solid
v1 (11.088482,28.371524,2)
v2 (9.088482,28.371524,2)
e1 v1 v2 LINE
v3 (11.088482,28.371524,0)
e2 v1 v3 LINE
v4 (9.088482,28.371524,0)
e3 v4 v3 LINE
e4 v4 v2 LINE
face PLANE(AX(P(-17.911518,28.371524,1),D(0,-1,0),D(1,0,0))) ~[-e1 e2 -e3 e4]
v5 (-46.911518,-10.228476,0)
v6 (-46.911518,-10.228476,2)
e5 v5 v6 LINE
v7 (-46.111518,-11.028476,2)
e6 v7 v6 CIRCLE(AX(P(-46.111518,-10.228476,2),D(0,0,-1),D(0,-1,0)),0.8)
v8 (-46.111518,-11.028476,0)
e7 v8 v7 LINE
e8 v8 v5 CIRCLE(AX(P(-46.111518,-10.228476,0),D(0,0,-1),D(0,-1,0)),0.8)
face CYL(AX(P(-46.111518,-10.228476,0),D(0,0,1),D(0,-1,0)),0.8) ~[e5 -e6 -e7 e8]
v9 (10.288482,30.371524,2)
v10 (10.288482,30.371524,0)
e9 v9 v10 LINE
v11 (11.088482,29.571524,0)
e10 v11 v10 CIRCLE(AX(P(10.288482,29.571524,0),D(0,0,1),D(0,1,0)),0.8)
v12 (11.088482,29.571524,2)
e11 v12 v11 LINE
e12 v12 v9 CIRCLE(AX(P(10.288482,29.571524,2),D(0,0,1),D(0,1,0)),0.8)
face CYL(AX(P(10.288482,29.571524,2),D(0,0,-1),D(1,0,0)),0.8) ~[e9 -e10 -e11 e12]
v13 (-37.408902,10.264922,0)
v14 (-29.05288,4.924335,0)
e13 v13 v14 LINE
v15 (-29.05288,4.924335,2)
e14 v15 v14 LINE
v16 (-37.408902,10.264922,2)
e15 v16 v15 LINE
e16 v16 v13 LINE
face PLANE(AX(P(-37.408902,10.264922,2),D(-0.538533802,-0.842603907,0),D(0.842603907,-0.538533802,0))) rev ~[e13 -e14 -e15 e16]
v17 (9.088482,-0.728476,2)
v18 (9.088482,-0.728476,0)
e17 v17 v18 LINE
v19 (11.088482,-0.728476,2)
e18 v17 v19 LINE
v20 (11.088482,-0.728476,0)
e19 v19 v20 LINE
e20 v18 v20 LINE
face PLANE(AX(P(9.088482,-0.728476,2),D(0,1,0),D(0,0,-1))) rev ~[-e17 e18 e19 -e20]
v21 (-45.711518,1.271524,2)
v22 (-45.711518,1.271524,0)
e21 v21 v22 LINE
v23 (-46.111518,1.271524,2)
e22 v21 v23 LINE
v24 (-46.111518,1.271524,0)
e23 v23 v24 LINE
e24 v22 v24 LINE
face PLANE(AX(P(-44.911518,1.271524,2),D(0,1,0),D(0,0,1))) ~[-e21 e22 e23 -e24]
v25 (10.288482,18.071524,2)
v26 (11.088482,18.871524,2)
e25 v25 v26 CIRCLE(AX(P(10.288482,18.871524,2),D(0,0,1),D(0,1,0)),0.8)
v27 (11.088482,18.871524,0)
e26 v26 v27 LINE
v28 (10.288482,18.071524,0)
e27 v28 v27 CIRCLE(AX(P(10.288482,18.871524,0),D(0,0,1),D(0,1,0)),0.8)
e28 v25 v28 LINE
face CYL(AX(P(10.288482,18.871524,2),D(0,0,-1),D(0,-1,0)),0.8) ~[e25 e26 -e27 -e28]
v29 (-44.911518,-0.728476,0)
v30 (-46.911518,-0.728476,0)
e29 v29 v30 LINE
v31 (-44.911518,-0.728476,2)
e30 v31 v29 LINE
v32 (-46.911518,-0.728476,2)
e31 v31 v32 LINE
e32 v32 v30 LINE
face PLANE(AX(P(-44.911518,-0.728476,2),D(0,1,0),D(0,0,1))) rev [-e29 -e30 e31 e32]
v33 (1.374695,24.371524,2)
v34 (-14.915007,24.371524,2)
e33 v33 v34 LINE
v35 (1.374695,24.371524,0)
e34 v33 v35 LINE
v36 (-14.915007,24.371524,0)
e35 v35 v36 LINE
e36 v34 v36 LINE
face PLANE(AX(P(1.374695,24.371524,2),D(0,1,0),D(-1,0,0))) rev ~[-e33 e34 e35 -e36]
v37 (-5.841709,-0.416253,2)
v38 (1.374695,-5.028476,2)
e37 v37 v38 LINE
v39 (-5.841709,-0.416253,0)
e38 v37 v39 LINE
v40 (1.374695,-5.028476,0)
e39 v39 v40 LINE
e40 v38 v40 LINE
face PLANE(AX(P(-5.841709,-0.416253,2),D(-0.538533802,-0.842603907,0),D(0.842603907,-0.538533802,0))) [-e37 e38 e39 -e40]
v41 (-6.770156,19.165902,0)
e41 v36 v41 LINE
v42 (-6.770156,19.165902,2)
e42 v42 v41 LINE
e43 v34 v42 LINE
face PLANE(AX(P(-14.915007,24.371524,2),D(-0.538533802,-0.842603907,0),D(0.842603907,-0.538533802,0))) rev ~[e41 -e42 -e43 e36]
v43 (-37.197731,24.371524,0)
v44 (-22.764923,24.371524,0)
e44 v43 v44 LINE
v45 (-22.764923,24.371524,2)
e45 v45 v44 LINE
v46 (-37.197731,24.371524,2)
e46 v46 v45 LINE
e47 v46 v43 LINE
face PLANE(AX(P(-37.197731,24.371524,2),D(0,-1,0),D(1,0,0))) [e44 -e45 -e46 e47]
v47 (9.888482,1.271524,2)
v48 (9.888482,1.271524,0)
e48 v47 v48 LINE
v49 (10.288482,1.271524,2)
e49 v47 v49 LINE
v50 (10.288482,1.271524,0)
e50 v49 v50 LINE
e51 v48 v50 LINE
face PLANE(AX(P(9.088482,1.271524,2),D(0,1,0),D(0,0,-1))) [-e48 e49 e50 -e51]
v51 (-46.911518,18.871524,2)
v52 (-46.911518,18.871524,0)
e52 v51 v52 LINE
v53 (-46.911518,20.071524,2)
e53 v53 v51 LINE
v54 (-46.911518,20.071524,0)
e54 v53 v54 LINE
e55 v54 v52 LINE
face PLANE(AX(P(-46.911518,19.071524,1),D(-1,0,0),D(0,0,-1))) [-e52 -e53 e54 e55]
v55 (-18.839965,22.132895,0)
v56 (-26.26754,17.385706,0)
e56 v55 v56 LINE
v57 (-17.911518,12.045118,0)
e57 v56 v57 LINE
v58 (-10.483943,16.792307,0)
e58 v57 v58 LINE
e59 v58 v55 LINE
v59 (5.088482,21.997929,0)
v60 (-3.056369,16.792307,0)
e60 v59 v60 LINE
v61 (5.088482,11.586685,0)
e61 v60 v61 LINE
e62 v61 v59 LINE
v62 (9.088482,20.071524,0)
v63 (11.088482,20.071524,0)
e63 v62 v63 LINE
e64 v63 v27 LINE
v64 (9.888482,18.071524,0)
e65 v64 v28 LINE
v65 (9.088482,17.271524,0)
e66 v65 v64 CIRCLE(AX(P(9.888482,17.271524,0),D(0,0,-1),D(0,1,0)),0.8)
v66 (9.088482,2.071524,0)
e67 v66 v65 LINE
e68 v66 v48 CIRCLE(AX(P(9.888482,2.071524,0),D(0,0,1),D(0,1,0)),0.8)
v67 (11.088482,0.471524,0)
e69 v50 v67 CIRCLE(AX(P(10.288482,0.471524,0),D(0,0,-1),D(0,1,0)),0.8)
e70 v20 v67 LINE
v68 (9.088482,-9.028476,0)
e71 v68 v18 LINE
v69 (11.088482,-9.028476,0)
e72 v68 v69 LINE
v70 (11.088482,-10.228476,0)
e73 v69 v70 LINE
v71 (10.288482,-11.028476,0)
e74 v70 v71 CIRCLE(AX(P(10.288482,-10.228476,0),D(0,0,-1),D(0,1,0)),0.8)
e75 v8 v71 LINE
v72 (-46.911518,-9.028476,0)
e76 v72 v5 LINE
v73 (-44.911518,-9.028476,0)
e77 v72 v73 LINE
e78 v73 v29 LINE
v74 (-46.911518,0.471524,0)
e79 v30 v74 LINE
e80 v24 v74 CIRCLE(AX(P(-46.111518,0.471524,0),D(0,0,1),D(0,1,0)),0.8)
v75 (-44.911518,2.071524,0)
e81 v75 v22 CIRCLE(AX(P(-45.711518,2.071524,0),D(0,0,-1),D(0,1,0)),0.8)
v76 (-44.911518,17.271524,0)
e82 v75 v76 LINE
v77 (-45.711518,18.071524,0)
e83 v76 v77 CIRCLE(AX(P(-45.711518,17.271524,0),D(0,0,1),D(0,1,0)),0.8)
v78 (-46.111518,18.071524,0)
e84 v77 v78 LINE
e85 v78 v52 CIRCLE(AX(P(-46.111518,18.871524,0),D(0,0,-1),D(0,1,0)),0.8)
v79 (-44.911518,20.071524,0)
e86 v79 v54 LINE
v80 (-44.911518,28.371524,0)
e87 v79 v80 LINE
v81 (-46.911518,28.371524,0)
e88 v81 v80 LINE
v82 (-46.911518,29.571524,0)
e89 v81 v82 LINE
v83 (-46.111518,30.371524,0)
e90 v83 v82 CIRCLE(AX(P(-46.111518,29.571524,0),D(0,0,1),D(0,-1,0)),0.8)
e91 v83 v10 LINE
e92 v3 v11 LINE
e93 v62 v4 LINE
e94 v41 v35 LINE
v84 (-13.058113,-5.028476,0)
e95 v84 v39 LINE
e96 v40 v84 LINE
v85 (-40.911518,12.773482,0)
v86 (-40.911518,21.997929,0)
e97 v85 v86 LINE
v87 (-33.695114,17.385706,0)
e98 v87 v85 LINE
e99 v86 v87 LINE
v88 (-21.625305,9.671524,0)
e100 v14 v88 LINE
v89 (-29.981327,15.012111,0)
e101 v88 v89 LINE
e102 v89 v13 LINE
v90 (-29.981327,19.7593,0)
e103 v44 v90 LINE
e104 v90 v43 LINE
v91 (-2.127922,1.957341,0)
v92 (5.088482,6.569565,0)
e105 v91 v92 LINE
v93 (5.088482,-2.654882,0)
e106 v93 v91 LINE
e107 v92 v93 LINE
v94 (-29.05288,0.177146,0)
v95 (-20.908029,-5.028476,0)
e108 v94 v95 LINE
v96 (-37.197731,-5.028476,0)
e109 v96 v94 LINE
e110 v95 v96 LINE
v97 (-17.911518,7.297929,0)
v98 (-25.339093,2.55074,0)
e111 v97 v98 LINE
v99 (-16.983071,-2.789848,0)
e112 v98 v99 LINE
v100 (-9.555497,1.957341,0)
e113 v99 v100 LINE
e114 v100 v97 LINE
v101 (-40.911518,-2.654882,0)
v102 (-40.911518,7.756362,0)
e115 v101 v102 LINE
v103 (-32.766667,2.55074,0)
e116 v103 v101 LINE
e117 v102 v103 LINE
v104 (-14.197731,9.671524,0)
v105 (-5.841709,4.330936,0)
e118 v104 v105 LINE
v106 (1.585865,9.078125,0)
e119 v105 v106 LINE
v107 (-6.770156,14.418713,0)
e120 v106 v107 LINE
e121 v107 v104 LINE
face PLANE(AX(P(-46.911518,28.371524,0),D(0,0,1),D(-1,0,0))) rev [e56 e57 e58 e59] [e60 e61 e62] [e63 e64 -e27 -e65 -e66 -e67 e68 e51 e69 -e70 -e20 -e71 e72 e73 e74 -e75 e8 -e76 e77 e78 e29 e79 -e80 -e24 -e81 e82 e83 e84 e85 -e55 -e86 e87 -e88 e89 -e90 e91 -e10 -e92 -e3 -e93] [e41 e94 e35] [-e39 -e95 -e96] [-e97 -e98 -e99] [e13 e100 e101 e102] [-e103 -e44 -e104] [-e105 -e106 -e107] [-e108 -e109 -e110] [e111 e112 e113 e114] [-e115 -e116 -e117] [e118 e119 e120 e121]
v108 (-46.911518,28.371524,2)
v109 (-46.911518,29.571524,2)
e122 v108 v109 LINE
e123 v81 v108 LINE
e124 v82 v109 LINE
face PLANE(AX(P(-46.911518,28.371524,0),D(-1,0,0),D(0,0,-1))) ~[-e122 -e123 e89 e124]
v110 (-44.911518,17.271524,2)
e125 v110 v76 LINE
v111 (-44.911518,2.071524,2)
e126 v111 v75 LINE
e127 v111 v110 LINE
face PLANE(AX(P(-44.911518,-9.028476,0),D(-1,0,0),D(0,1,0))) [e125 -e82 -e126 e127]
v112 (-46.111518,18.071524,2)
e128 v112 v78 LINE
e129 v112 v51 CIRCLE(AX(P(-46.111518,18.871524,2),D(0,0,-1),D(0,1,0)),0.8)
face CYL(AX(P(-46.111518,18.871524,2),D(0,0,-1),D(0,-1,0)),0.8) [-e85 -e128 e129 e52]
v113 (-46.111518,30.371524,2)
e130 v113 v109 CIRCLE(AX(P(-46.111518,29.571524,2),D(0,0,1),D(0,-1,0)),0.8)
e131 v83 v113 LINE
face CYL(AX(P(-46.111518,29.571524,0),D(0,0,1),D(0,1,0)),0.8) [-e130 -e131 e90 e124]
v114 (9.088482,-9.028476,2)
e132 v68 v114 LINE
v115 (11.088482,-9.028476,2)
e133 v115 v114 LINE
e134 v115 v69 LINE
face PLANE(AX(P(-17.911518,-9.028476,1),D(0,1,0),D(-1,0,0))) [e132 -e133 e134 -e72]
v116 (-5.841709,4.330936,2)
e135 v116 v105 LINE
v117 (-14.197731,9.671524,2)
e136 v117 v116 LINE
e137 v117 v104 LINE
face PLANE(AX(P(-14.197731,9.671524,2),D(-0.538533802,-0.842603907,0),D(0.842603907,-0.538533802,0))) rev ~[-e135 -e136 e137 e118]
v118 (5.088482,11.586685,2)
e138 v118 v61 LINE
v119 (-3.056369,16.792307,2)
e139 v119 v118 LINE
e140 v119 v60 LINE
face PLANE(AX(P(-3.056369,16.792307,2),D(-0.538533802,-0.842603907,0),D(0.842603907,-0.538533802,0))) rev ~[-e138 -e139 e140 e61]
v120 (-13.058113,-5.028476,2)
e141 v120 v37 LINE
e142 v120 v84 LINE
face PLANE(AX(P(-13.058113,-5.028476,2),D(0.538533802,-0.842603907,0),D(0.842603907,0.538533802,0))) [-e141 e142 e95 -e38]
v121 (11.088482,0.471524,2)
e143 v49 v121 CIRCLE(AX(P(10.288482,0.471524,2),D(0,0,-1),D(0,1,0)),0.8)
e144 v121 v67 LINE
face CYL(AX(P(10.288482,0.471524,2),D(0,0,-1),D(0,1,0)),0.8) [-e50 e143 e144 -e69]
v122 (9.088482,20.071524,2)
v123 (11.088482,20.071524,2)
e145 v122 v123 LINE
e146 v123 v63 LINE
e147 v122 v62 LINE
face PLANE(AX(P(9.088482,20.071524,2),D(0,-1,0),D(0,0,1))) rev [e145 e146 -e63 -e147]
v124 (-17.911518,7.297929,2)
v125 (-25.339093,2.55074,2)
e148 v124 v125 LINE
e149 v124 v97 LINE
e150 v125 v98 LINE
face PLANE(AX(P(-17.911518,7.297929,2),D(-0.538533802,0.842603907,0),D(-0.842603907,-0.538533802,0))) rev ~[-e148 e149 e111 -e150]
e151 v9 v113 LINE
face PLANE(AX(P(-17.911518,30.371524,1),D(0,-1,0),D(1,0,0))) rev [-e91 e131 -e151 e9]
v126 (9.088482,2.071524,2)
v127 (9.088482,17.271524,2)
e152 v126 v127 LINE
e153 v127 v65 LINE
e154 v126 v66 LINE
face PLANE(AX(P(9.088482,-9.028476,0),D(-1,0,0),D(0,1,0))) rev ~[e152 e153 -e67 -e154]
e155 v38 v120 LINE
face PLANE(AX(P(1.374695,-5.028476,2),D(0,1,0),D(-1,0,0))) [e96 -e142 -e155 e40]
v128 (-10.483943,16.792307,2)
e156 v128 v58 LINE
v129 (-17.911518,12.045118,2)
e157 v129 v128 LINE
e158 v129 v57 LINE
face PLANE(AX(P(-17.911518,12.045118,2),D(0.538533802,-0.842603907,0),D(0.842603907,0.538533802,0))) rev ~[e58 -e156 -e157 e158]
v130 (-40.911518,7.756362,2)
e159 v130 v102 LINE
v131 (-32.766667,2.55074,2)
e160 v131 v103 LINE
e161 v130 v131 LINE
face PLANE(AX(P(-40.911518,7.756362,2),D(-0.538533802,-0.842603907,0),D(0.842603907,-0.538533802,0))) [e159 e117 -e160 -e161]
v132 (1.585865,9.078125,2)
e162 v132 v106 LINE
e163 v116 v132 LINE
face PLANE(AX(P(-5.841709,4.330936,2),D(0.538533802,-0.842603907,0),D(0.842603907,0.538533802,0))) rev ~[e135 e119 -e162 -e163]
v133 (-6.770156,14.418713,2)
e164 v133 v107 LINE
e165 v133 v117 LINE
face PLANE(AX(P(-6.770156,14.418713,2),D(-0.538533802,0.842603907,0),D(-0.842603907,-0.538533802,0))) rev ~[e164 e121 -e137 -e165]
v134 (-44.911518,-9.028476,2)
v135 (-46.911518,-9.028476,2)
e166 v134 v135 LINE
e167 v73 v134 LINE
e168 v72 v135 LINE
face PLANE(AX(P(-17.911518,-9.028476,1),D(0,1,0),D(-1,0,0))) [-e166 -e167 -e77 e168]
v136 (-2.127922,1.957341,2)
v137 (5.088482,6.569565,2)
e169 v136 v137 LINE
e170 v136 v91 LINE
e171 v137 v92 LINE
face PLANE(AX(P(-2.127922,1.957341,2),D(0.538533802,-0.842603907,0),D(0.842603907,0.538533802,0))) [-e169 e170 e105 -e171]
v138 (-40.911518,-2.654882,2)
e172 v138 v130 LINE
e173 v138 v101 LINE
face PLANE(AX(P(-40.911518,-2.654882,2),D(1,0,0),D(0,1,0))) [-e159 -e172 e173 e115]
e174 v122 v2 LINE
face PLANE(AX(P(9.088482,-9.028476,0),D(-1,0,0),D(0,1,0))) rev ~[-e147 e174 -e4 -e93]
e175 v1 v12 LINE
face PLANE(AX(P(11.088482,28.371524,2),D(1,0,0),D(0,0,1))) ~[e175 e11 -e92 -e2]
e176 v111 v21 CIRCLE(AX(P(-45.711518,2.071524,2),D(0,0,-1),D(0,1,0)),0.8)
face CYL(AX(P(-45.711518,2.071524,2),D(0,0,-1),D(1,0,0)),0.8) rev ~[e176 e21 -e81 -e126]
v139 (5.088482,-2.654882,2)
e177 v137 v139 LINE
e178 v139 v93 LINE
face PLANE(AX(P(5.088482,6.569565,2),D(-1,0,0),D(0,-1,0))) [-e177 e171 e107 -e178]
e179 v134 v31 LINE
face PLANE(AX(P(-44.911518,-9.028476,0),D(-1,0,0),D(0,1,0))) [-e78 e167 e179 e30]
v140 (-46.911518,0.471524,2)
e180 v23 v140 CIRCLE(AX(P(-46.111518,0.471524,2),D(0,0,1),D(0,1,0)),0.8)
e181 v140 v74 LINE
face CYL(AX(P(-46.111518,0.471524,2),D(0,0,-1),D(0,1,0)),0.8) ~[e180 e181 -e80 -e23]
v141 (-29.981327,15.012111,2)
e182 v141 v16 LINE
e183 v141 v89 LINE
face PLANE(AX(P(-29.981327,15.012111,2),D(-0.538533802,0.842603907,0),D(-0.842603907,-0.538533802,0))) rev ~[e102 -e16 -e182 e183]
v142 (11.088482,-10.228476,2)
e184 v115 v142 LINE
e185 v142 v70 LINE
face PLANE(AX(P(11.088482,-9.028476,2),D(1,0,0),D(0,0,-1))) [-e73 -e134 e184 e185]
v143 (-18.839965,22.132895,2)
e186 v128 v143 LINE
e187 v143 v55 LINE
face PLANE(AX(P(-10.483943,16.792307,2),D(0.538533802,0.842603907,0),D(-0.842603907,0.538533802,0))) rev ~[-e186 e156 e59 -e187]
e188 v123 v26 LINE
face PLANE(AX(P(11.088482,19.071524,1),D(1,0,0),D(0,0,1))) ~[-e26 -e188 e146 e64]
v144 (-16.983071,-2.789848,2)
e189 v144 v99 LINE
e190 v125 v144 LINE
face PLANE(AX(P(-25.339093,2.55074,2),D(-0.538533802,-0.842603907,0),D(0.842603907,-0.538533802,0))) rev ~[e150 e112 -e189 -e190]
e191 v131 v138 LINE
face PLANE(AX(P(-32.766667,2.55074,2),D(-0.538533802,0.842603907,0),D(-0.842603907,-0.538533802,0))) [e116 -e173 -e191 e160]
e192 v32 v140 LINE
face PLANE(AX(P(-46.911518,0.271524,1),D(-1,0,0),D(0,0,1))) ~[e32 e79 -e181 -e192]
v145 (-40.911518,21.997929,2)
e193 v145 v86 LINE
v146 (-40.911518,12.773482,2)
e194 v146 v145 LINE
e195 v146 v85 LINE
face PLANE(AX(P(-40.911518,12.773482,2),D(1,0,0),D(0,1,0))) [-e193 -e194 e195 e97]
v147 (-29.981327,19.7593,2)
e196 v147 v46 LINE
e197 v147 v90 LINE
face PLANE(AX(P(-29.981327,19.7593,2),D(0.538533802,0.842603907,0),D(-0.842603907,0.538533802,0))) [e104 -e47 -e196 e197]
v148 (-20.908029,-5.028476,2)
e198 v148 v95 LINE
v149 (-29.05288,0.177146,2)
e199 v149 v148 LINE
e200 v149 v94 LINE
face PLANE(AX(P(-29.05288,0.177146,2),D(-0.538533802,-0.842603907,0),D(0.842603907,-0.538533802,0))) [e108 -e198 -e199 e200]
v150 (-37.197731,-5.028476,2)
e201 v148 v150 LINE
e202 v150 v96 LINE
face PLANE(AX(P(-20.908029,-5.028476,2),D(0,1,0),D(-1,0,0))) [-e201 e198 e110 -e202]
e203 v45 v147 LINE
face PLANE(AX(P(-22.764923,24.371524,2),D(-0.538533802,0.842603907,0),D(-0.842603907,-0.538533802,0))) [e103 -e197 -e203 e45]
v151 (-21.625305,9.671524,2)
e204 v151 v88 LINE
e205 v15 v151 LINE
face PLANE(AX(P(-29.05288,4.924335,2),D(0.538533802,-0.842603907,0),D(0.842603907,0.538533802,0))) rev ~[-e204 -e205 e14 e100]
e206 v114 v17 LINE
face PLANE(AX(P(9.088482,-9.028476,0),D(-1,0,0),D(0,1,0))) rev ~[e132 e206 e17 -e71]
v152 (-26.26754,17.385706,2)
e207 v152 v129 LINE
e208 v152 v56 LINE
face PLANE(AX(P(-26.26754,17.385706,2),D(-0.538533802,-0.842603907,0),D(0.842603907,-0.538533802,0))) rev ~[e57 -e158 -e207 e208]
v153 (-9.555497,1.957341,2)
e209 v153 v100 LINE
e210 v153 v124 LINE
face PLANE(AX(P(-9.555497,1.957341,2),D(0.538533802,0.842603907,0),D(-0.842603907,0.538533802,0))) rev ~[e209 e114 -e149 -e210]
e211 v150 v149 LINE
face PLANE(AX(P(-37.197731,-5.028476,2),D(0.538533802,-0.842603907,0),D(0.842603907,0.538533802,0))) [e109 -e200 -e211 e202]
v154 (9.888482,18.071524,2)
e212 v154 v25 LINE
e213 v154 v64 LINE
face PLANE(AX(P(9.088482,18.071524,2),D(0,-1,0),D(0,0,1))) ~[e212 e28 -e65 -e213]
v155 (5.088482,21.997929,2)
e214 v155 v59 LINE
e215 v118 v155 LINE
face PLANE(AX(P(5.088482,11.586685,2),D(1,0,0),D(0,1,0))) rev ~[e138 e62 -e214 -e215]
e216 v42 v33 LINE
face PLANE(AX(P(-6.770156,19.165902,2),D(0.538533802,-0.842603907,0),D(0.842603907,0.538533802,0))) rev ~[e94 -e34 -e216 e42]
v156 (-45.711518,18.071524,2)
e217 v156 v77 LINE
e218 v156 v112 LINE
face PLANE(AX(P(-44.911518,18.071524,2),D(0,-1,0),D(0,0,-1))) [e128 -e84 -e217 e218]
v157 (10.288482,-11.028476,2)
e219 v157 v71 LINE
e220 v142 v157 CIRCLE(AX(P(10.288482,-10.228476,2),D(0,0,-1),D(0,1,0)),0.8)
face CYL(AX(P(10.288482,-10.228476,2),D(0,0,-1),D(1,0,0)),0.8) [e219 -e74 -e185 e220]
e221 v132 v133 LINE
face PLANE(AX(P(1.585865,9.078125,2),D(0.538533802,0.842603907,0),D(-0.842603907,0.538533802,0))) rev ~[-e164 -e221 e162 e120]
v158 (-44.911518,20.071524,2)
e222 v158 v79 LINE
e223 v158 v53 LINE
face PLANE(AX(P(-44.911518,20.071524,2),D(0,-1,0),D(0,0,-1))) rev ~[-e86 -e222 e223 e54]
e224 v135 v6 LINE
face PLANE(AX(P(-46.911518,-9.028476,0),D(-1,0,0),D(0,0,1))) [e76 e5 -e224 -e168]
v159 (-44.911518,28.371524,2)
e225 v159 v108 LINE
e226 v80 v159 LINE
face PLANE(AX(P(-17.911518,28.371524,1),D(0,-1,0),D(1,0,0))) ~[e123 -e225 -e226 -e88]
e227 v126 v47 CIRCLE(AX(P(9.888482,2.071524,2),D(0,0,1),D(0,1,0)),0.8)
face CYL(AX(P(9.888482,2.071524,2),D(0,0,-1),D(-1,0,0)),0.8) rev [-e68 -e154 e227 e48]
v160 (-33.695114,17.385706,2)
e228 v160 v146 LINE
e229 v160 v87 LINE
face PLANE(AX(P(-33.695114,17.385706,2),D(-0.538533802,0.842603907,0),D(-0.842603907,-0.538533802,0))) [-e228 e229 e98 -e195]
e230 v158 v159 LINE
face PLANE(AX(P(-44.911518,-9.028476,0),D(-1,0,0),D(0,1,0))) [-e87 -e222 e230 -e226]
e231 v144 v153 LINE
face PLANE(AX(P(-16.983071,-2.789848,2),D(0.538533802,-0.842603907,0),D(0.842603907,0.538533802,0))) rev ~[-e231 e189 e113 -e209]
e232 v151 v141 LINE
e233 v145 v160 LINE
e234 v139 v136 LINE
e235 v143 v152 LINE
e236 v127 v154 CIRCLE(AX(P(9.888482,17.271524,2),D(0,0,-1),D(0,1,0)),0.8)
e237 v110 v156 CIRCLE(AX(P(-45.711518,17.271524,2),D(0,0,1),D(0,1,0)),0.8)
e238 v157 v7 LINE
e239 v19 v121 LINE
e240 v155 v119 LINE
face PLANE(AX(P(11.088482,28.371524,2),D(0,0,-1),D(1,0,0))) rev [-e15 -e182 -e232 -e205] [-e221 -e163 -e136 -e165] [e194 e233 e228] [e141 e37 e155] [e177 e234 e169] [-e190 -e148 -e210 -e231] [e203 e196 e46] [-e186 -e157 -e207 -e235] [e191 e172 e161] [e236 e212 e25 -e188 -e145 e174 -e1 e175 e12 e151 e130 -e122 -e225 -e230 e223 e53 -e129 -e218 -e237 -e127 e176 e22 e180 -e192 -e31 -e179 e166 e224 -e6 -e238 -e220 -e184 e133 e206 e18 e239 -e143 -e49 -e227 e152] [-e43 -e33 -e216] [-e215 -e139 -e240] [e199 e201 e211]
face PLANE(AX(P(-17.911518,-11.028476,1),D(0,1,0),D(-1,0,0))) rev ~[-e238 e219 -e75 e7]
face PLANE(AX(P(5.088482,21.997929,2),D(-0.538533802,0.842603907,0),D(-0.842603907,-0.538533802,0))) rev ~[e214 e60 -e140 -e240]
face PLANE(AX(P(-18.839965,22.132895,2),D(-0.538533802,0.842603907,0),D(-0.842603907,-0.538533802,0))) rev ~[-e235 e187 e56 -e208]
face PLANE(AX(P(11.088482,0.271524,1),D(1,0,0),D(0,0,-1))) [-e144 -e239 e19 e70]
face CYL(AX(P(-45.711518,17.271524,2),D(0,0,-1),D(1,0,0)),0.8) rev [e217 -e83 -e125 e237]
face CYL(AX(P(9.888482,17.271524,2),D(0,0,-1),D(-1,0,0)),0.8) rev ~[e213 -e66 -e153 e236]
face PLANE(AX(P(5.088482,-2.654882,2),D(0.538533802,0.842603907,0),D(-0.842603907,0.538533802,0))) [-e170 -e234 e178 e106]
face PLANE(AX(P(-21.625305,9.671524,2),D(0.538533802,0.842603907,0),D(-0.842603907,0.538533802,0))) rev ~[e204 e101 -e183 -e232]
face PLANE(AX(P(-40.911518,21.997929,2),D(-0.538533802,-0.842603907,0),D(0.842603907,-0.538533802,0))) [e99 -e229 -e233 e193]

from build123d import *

# Parameters (mm, degrees)
SKETCH1_W               = 54
SKETCH1_H               = 37.4
BOSS_EXTRUDE1_DEPTH     = 2
CUT_EXTRUDE1_DEPTH      = 54.160020758
BOSS_EXTRUDE2_DEPTH     = 2
SKETCH4_W               = 2
SKETCH4_H               = 2
BOSS_EXTRUDE3_DEPTH     = 2
FILLET3_R               = 0.8
MIRROR5_COPY_1_SKETCH_W = 2
MIRROR5_COPY_1_SKETCH_H = 2
MIRROR5_COPY_1_DEPTH    = 2
FILLET3_OF_MIRROR5_R    = 0.8


with BuildPart() as part:
    # Sketch1 → Boss-Extrude1 (new body)
    with BuildSketch(Plane.XY):
        with Locations((-17.911518112, 9.671523538)):
            Rectangle(SKETCH1_W, SKETCH1_H)
    extrude(amount=BOSS_EXTRUDE1_DEPTH)

    # Sketch2 → Cut-Extrude1 (cut, through all)
    with BuildSketch(Plane.XY.offset(2)):
        Polygon((-22.764922959, 24.371523538), (-29.981326879, 19.759300163), (-37.197730799, 24.371523538), align=None)
        Polygon((-33.695114192, 17.385705663), (-40.911518112, 12.773482289), (-40.911518112, 21.997929038), align=None)
        Polygon((-29.981326879, 15.012111163), (-37.408901505, 10.264922163), (-29.052880051, 4.924334538), (-21.625305425, 9.671523538), align=None)
        Polygon((-18.83996494, 22.132894663), (-26.267539566, 17.385705663), (-17.911518112, 12.045118038), (-10.483943486, 16.792307038), align=None)
        Polygon((1.374694575, 24.371523538), (-14.915006921, 24.371523538), (-6.770156173, 19.165901538), align=None)
        Polygon((-3.05636886, 16.792307038), (5.088481888, 11.586685039), (5.088481888, 21.997929038), align=None)
        Polygon((-6.770156173, 14.418712538), (-14.197730799, 9.671523538), (-5.841709344, 4.330935913), (1.585865282, 9.078124913), align=None)
        Polygon((-17.911518112, 7.297929038), (-25.339092738, 2.550740038), (-16.983071283, -2.789847587), (-9.555496657, 1.957341413), align=None)
        Polygon((-29.052880051, 0.177145538), (-20.908029303, -5.028476462), (-37.197730799, -5.028476462), align=None)
        Polygon((-40.911518112, 7.756362038), (-32.766667364, 2.550740038), (-40.911518112, -2.654881962), align=None)
        Polygon((-13.058113264, -5.028476462), (-5.841709344, -0.416253087), (1.374694575, -5.028476462), align=None)
        Polygon((-2.127922031, 1.957341413), (5.088481888, 6.569564788), (5.088481888, -2.654881962), align=None)
    extrude(amount=-CUT_EXTRUDE1_DEPTH, mode=Mode.SUBTRACT)

    # Sketch3 → Boss-Extrude2 (add)
    with BuildSketch(Plane.XZ.offset(9.028476462)):
        Polygon((9.088481888, 2), (11.088481888, 2), (11.088481888, 0), (9.088481888, 0), (-44.911518112, 0), (-46.911518112, 0), (-46.911518112, 2), (-44.911518112, 2), align=None)
    boss_extrude2 = extrude(amount=BOSS_EXTRUDE2_DEPTH)

    # Sketch4 → Boss-Extrude3 (add)
    with BuildSketch(Plane(origin=(9.088481888, 0, 0), x_dir=(0, 0, -1), z_dir=(1, 0, 0))):
        with Locations((-1, 0.271523538)):
            Rectangle(SKETCH4_W, SKETCH4_H)
    boss_extrude3 = extrude(amount=BOSS_EXTRUDE3_DEPTH)

    # Mirror2: Boss-Extrude3 across plane
    add(boss_extrude3.mirror(Plane.ZY.offset(17.911518112)))

    # Fillet3
    fillet3_edges = [part.edges().sort_by_distance(p)[0] for p in [
        (9.088481888, 1.271523538, 1),
        (11.088481888, 1.271523538, 1),
        (-46.911518112, 1.271523538, 1),
        (-44.911518112, 1.271523538, 1),
        (-46.911518112, -11.028476462, 1),
        (11.088481888, -11.028476462, 1),
    ]]
    fillet(fillet3_edges, radius=FILLET3_R)

    # Mirror5: Boss-Extrude2, Boss-Extrude3 across plane
    add(boss_extrude2.mirror(Plane(origin=(0, 9.671523538, 0), x_dir=(0, 0, 1), z_dir=(0, -1, 0))))
    add(boss_extrude3.mirror(Plane(origin=(0, 9.671523538, 0), x_dir=(0, 0, 1), z_dir=(0, -1, 0))))

    # Mirror5 copy 1 sketch → Mirror5 copy 1 (add)
    with BuildSketch(Plane(origin=(-44.911518112, 19.343047076, 0), x_dir=(0, 0, -1), z_dir=(-1, 0, 0))):
        with Locations((-1, 0.271523538)):
            Rectangle(MIRROR5_COPY_1_SKETCH_W, MIRROR5_COPY_1_SKETCH_H)
    extrude(amount=MIRROR5_COPY_1_DEPTH)

    # Fillet3 of Mirror5
    fillet3_of_mirror5_edges = [part.edges().sort_by_distance(p)[0] for p in [
        (9.088481888, 18.071523538, 1),
        (11.088481888, 18.071523538, 1),
        (-46.911518112, 18.071523538, 1),
        (-44.911518112, 18.071523538, 1),
        (-46.911518112, 30.371523538, 1),
        (11.088481888, 30.371523538, 1),
    ]]
    fillet(fillet3_of_mirror5_edges, radius=FILLET3_OF_MIRROR5_R)


solid = part.part
